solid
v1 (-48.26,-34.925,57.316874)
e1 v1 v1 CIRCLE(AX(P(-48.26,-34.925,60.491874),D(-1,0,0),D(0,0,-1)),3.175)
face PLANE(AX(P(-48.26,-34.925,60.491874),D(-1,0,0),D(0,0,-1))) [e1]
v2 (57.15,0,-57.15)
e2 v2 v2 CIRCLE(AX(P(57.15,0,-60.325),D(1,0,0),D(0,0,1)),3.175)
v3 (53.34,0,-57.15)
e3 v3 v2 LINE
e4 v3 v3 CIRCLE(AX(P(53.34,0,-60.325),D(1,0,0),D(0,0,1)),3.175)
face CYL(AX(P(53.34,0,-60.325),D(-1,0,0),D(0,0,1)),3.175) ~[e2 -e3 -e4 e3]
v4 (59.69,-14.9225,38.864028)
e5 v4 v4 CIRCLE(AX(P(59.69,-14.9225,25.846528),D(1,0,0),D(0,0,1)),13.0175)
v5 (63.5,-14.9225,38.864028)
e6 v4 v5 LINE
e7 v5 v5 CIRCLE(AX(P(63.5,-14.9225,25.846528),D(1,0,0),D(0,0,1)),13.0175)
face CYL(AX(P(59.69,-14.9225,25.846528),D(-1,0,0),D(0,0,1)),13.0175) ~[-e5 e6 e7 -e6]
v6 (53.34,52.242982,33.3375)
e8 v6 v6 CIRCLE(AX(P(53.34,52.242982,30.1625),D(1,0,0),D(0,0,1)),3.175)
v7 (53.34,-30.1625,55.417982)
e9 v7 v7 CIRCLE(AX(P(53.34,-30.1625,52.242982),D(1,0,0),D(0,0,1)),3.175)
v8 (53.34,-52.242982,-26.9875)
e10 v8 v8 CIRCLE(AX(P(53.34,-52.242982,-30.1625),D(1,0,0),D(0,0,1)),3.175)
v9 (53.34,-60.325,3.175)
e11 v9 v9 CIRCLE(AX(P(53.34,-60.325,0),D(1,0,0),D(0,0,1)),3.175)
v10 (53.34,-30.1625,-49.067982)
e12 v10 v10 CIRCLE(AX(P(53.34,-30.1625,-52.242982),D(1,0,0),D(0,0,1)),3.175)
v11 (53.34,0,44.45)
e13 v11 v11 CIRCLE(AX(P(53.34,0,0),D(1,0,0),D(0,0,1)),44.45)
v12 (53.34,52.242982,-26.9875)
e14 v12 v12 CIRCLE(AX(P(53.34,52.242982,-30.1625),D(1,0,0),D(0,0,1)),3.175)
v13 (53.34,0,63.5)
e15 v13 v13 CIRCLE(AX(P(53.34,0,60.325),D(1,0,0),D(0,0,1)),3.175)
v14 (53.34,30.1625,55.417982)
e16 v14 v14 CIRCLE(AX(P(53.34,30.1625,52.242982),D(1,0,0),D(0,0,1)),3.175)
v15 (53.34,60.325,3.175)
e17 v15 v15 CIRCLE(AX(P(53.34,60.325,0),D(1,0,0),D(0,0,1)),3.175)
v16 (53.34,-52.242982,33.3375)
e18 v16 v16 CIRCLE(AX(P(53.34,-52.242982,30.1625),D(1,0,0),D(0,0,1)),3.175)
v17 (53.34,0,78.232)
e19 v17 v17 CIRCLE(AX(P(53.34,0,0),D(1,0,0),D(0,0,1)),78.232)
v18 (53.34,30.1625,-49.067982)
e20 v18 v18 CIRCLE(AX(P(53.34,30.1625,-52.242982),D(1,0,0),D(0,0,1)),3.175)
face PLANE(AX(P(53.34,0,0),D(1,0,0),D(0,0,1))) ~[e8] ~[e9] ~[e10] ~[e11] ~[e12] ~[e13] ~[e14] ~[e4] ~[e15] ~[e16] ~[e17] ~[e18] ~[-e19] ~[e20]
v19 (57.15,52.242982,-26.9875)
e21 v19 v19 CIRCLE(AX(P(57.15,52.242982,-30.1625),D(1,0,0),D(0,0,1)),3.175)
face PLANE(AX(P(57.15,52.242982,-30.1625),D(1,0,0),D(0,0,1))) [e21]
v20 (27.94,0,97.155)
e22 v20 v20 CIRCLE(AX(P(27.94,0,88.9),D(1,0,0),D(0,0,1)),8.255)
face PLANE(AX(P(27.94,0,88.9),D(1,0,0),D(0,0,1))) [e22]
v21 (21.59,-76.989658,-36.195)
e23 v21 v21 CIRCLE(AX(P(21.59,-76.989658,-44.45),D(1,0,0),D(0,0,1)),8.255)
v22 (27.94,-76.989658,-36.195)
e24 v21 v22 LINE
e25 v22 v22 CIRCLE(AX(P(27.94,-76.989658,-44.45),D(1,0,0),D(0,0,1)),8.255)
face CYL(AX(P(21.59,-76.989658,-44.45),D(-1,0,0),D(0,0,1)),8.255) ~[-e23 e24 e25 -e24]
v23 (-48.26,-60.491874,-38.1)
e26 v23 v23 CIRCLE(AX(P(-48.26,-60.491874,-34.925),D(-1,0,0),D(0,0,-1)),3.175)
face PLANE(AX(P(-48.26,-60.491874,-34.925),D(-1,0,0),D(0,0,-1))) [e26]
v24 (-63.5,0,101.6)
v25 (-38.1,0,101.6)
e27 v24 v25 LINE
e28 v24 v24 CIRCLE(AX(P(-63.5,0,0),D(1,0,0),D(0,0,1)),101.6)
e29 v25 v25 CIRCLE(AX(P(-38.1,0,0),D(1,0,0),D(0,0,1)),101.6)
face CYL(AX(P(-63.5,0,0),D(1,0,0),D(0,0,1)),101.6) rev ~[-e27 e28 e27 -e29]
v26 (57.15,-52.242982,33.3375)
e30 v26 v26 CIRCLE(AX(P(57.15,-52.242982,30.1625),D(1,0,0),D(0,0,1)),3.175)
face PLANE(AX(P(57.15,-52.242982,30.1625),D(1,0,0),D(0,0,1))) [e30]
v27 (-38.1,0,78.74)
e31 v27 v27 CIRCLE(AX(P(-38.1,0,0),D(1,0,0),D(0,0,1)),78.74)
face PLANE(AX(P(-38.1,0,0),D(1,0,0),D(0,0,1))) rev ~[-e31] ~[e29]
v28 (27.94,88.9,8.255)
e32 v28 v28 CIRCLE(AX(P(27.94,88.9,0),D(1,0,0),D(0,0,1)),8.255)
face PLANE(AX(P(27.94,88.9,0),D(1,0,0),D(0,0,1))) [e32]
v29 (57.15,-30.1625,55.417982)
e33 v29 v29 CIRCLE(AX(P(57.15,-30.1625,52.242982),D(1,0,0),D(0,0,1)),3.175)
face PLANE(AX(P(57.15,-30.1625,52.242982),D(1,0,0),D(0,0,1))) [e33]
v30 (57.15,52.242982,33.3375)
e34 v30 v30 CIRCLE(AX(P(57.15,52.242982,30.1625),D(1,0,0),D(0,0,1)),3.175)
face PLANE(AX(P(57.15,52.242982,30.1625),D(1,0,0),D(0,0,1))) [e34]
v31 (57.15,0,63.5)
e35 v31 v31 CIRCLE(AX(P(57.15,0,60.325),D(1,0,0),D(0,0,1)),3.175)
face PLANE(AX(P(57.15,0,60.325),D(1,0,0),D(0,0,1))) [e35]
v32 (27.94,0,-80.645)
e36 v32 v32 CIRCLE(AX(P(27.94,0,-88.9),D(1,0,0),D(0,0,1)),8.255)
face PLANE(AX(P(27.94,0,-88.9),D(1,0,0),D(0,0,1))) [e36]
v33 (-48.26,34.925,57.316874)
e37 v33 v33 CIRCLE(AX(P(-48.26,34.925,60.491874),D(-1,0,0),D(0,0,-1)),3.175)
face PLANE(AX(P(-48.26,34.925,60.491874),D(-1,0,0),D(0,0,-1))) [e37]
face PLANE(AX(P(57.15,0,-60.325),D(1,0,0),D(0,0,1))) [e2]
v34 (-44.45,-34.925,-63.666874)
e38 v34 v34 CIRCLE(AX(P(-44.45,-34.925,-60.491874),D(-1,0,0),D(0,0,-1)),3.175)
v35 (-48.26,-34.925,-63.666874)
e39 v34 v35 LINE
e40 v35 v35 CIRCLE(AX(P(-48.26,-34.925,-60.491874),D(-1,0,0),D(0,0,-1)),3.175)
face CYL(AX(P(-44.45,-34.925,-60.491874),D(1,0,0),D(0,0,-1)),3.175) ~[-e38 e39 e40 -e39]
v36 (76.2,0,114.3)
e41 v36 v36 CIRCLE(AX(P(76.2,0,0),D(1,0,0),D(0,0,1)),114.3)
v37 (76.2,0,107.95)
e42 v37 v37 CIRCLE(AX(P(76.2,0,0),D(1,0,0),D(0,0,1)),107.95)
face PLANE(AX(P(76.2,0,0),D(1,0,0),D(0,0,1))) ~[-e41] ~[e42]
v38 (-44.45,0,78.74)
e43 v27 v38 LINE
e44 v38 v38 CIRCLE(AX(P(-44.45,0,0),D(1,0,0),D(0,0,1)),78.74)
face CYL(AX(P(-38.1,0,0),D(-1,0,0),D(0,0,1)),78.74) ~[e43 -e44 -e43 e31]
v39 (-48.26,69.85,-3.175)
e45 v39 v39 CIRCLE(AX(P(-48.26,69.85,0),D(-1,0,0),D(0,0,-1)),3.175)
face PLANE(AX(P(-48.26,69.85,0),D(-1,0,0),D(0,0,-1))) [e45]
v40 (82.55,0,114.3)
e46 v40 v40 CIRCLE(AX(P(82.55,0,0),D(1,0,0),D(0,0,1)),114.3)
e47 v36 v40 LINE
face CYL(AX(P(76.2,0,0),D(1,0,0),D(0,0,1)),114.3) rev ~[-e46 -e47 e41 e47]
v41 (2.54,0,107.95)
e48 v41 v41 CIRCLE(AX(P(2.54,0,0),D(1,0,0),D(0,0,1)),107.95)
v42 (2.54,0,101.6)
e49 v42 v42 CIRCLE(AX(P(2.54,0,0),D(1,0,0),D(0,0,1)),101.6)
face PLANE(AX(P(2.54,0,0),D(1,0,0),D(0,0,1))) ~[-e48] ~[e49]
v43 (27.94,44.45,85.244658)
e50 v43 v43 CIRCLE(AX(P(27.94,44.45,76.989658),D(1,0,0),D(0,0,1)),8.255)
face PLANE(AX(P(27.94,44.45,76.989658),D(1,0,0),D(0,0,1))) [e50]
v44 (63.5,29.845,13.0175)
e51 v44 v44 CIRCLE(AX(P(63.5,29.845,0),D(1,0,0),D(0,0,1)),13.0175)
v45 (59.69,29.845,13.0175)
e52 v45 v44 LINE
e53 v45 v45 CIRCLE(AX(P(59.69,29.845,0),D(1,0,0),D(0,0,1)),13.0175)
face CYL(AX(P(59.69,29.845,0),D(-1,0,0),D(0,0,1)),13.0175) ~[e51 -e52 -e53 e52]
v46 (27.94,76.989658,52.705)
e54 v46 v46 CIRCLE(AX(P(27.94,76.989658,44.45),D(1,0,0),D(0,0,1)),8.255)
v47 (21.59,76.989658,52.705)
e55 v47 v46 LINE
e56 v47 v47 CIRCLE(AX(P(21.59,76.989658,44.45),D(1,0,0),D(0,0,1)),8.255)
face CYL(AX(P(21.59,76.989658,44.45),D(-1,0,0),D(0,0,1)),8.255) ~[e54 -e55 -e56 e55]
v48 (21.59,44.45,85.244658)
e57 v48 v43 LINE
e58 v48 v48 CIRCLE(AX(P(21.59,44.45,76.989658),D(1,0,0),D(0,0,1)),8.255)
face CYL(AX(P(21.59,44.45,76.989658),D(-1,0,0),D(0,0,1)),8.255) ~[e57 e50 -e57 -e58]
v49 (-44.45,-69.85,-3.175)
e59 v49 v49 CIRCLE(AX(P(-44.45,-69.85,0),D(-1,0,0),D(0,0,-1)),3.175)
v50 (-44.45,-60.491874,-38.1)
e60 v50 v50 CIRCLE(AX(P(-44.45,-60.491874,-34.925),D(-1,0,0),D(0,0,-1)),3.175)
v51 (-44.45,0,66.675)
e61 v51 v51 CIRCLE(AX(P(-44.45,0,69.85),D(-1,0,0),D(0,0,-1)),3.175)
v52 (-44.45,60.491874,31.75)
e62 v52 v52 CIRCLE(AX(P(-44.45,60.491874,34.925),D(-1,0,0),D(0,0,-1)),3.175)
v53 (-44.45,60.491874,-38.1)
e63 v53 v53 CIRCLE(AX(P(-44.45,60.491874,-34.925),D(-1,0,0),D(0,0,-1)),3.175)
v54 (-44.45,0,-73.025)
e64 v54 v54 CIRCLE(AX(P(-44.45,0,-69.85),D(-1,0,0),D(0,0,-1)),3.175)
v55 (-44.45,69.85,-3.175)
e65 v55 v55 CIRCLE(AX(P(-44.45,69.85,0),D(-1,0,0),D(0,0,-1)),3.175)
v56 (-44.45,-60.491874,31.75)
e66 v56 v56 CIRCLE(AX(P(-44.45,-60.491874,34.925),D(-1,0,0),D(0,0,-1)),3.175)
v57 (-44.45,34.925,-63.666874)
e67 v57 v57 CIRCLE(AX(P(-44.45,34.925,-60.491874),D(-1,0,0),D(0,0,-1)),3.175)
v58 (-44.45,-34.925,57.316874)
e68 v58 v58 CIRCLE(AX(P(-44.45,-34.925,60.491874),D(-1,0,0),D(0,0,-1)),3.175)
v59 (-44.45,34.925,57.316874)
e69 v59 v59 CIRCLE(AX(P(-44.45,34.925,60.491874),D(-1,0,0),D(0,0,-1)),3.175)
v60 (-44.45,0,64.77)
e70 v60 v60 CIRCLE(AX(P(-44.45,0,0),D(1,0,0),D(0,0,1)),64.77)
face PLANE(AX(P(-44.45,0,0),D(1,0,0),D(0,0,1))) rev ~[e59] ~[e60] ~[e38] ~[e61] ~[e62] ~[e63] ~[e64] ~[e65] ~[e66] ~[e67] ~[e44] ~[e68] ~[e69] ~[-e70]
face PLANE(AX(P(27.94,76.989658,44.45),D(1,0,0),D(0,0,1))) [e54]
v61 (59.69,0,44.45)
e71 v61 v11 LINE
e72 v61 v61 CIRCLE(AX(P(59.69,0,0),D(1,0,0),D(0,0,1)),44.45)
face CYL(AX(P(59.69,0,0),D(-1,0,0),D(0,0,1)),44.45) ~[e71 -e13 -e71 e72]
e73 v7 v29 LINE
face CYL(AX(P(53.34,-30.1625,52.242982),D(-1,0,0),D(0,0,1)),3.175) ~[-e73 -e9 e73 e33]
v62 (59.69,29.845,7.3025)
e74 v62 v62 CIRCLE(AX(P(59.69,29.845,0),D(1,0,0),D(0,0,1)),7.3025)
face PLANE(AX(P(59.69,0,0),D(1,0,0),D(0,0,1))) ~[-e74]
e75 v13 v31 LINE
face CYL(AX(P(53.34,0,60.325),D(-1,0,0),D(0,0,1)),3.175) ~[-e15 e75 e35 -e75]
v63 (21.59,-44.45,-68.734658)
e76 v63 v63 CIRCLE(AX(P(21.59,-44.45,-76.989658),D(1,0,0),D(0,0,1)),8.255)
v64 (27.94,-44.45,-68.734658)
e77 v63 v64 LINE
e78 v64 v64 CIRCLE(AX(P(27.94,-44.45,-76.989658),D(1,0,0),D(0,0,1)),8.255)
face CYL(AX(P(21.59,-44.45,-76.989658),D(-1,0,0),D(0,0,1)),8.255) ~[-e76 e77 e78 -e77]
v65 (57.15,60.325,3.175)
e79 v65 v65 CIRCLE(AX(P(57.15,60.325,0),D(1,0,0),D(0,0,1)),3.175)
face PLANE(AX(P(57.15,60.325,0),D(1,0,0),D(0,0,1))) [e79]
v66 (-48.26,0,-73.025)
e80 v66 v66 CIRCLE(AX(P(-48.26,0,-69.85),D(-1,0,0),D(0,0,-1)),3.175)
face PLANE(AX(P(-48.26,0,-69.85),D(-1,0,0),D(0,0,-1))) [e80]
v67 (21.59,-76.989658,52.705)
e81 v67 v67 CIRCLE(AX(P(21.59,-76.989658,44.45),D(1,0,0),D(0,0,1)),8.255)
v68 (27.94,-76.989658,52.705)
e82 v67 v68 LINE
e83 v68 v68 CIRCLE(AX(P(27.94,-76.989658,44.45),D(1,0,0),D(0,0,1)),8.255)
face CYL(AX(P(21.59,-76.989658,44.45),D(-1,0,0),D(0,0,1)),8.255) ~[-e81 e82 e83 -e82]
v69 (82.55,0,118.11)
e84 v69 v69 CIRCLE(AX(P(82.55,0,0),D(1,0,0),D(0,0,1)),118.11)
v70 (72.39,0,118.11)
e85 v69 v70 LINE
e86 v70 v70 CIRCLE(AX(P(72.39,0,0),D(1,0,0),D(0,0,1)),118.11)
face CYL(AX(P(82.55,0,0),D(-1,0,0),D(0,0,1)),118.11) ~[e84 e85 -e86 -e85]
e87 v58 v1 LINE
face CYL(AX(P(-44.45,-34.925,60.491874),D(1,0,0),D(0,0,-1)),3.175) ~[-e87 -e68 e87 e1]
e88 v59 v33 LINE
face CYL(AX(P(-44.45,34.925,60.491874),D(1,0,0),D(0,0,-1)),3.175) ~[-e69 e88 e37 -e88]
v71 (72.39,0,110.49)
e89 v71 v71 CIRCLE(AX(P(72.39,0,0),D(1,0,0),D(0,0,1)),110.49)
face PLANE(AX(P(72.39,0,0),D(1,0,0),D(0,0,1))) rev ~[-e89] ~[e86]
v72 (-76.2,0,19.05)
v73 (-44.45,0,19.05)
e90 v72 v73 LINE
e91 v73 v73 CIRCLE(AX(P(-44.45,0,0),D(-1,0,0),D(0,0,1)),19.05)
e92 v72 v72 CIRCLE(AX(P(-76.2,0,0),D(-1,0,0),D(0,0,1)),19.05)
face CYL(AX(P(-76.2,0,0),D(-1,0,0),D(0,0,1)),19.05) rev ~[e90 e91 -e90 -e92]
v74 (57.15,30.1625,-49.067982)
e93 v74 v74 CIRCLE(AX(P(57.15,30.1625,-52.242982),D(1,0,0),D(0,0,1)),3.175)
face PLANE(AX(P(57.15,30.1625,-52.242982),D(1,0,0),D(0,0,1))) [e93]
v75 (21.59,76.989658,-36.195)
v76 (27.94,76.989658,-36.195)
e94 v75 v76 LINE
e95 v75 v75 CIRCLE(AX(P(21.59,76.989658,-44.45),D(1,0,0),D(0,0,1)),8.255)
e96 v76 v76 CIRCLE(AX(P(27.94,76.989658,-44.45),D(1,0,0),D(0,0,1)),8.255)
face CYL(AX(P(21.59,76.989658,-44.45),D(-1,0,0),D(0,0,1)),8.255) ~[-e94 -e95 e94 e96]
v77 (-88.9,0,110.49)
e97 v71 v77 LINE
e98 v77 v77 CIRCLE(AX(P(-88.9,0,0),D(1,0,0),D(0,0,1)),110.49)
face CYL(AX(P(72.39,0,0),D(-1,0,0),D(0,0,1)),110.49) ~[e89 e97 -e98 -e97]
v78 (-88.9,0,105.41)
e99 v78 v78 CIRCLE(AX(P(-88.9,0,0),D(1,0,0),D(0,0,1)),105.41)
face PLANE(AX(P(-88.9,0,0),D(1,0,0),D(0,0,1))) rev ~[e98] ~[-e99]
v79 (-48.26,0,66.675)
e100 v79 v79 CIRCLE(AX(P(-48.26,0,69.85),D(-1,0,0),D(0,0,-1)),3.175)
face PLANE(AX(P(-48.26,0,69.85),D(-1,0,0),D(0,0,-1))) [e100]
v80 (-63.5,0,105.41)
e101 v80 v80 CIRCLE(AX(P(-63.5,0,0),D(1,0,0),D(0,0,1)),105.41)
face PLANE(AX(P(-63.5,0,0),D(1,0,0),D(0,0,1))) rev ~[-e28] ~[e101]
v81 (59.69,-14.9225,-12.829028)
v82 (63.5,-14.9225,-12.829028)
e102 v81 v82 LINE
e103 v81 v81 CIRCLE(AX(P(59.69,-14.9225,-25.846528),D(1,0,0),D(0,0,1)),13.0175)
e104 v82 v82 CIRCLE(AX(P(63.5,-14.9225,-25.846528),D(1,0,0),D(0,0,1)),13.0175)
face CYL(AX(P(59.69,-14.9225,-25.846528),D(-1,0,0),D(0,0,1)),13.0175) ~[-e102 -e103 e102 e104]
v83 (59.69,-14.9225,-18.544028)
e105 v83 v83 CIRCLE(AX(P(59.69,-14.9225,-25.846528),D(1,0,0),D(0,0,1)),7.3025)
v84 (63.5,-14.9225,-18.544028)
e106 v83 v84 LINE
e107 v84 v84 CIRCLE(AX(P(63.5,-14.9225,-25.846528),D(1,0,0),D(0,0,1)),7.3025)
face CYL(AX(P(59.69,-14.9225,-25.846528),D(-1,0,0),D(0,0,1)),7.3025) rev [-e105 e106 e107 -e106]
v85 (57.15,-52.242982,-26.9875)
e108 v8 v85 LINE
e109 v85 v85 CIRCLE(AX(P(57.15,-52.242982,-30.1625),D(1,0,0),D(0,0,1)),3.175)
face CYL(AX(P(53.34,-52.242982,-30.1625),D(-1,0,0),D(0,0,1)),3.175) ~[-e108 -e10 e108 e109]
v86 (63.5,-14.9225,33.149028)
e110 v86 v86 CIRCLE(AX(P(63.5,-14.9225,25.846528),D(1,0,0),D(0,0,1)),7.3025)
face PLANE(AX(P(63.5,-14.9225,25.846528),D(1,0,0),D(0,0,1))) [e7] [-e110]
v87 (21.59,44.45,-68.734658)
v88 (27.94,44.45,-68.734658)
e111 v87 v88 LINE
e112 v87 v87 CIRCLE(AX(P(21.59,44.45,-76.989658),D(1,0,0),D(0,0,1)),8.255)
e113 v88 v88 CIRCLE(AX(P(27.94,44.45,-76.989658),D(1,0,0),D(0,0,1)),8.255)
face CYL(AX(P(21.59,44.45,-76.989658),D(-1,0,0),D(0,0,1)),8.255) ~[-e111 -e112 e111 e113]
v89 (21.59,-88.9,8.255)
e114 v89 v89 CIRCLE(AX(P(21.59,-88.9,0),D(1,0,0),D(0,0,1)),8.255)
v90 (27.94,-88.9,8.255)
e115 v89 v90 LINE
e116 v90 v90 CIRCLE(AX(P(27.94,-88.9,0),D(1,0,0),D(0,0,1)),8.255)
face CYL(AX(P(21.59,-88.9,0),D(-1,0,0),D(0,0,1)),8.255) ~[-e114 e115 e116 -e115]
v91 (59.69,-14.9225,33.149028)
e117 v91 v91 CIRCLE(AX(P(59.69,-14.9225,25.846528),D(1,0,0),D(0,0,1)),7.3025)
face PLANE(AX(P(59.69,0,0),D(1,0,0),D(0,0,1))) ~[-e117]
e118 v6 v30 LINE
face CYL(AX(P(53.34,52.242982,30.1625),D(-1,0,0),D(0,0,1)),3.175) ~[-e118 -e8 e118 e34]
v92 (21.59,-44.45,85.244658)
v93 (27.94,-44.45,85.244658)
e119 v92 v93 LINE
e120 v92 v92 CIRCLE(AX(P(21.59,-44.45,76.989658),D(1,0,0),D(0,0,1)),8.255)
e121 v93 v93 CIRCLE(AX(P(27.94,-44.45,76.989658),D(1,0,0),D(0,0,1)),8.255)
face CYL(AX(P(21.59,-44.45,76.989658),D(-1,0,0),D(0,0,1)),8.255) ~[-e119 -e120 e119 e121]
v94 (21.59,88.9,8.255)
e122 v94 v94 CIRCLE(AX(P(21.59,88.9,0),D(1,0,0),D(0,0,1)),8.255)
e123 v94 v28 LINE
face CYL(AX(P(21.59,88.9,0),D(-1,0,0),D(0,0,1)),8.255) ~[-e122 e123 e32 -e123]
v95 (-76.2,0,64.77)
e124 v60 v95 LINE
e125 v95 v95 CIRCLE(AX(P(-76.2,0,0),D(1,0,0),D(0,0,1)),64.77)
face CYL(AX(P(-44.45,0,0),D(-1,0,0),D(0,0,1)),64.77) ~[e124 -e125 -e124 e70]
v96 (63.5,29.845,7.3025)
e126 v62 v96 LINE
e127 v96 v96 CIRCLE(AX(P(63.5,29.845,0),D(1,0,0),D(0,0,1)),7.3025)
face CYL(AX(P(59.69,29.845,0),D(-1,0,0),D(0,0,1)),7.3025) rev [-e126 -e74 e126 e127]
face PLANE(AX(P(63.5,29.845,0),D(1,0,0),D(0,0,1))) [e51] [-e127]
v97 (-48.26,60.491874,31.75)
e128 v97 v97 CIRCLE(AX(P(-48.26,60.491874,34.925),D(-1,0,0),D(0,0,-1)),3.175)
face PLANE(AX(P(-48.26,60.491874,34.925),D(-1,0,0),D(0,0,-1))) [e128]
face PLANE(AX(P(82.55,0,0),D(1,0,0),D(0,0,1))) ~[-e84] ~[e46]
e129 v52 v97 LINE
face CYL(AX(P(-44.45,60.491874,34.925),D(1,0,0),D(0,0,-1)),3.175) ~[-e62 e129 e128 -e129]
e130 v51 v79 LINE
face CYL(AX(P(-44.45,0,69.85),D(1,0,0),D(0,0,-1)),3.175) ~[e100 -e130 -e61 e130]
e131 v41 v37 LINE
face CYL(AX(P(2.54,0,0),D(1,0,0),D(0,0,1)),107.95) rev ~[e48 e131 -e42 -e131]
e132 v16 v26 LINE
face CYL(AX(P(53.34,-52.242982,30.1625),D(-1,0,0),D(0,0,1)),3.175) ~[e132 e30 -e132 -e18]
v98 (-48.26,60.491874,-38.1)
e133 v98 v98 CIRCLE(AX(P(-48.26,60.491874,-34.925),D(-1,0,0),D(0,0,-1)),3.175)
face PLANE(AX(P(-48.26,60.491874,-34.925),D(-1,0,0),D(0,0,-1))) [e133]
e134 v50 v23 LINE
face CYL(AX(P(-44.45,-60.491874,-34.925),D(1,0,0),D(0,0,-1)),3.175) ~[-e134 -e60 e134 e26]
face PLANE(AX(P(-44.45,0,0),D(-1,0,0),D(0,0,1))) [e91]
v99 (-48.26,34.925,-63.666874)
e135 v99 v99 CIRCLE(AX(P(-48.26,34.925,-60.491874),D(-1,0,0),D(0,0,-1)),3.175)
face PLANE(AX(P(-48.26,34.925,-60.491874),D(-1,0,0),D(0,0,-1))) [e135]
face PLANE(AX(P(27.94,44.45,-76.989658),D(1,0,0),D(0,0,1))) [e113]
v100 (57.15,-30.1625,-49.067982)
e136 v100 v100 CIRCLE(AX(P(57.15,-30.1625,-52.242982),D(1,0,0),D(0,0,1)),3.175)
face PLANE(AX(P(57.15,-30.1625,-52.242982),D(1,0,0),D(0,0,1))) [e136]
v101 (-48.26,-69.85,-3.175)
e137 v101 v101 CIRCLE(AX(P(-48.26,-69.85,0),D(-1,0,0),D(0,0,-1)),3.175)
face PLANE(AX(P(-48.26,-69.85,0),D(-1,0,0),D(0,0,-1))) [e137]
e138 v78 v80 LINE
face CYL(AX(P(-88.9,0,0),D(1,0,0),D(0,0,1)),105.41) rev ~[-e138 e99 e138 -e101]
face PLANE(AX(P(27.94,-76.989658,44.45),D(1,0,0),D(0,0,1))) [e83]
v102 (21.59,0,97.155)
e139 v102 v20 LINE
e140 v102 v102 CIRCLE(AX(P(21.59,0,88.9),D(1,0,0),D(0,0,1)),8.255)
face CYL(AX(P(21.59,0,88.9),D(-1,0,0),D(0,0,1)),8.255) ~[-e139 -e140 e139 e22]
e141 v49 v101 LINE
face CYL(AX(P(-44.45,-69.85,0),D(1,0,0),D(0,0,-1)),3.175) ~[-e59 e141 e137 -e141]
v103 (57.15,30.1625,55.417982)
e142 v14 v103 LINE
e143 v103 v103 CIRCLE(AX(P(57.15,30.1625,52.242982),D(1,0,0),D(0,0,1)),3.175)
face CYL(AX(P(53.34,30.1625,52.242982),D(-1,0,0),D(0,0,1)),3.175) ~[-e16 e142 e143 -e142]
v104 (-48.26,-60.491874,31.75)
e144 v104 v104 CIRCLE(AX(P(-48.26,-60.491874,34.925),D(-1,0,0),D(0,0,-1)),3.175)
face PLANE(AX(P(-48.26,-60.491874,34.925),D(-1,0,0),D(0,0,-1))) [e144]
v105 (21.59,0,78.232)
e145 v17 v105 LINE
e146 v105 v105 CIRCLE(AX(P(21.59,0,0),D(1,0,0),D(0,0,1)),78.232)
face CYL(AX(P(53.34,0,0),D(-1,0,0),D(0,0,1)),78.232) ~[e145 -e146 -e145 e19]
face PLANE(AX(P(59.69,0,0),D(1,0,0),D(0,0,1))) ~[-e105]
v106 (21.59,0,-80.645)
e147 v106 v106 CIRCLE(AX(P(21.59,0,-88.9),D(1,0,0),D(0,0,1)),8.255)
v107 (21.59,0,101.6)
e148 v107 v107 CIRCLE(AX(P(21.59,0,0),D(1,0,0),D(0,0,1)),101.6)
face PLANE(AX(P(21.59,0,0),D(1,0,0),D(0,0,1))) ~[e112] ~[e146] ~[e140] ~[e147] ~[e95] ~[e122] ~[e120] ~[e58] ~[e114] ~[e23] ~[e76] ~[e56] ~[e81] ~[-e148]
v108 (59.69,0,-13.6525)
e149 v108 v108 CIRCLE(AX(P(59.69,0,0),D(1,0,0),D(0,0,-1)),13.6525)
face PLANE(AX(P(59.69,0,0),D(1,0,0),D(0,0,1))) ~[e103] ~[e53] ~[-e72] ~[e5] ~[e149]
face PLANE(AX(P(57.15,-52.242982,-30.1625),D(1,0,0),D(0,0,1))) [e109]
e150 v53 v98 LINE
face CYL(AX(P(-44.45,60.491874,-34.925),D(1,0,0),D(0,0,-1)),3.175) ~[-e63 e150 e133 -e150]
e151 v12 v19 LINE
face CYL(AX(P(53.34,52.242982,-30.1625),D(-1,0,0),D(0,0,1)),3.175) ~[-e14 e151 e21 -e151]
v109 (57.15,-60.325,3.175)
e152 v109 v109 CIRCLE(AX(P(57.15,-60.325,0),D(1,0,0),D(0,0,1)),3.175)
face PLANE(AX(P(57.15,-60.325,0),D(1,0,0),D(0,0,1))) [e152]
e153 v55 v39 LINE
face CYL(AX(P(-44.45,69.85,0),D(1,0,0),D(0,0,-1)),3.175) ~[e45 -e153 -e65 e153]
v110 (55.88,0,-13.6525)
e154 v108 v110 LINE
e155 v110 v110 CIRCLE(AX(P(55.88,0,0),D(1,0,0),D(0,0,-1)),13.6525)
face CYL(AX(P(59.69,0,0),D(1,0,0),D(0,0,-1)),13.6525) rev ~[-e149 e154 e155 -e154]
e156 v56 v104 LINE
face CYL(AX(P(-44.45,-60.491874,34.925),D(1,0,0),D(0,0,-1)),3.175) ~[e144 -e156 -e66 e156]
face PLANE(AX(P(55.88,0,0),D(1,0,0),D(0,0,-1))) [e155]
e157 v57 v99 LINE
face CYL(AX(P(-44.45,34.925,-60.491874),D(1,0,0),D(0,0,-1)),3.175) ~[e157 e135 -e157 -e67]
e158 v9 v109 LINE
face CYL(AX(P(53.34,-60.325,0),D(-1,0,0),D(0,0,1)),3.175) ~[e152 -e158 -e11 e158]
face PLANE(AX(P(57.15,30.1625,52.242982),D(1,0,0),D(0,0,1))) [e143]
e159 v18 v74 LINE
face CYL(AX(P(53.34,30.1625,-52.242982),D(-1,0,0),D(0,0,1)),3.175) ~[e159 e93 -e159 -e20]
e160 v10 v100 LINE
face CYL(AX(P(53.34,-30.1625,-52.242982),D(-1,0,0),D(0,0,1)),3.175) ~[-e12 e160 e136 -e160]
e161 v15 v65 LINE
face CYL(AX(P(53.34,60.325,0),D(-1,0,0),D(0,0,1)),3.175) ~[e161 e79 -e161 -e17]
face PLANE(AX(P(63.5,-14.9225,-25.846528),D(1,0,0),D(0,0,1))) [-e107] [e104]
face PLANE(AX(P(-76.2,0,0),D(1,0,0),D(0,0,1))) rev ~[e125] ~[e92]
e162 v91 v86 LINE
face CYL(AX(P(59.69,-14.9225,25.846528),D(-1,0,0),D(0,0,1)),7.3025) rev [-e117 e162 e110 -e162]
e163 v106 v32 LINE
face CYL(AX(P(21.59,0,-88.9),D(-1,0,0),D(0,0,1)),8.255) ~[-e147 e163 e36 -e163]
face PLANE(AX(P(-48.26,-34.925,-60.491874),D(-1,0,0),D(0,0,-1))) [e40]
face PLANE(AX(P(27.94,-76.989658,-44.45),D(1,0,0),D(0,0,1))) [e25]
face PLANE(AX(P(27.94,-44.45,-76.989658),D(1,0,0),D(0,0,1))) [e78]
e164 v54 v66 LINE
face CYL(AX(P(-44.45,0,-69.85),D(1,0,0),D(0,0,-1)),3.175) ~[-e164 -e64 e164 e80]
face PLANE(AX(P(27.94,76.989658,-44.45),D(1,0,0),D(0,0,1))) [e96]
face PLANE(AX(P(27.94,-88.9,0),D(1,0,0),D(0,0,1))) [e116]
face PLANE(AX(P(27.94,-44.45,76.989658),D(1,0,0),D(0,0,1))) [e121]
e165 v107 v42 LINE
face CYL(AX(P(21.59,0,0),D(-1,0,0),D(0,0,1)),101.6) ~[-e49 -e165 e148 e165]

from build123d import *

# Parameters (mm, degrees)
SKETCH2_R           = 8.255
BOSS_EXTRUDE1_DEPTH = 6.35
SKETCH3_R           = 3.175
BOSS_EXTRUDE2_DEPTH = 3.81
SKETCH5_R           = 13.0175
SKETCH5_R_2         = 7.3025
BOSS_EXTRUDE5_DEPTH = 3.81
SKETCH4_R           = 13.6525
CUT_EXTRUDE1_DEPTH  = 3.81
SKETCH6_R           = 3.175
BOSS_EXTRUDE6_DEPTH = 3.81
SKETCH7_R           = 19.05
CUT_EXTRUDE2_DEPTH  = 31.75


with BuildPart() as part:
    # Sketch1 → Revolve1 (revolve)
    with BuildSketch(Plane.XY, mode=Mode.PRIVATE) as revolve1_sk:
        Polygon((0, 0), (59.69, 0), (59.69, 44.45), (53.34, 44.45), (53.34, 78.232), (21.59, 78.232), (21.59, 101.6), (2.54, 101.6), (2.54, 107.95), (76.2, 107.95), (76.2, 114.3), (82.55, 114.3), (82.55, 118.11), (72.39, 118.11), (72.39, 110.49), (-88.9, 110.49), (-88.9, 105.41), (-63.5, 105.41), (-63.5, 101.6), (-38.1, 101.6), (-38.1, 78.74), (-44.45, 78.74), (-44.45, 64.77), (-76.2, 64.77), (-76.2, 0), align=None)
    revolve(revolve1_sk.sketch.rotate(Axis((0, 0, 0), (1, 0, 0)), 90), axis=Axis((0, 0, 0), (1, 0, 0)))

    # Sketch2 → Boss-Extrude1 (add)
    with BuildSketch(Plane(origin=(21.59, 0, 0), x_dir=(0, 0, -1), z_dir=(1, 0, 0))):
        with Locations(Location((0, 88.9, 0), (0, 0, 180))):
            Circle(SKETCH2_R)
        with Locations(Location((44.45, 76.989658396, 0), (0, 0, 180))):
            Circle(SKETCH2_R)
        with Locations(Location((76.989658396, 44.45, 0), (0, 0, 180))):
            Circle(SKETCH2_R)
        with Locations(Location((88.9, 0, 0), (0, 0, 180))):
            Circle(SKETCH2_R)
        with Locations(Location((76.989658396, -44.45, 0), (0, 0, 180))):
            Circle(SKETCH2_R)
        with Locations(Location((44.45, -76.989658396, 0), (0, 0, 180))):
            Circle(SKETCH2_R)
        with Locations(Location((0, -88.9, 0), (0, 0, 180))):
            Circle(SKETCH2_R)
        with Locations(Location((-44.45, -76.989658396, 0), (0, 0, 180))):
            Circle(SKETCH2_R)
        with Locations(Location((-76.989658396, -44.45, 0), (0, 0, 180))):
            Circle(SKETCH2_R)
        with Locations(Location((-88.9, 0, 0), (0, 0, 180))):
            Circle(SKETCH2_R)
        with Locations(Location((-76.989658396, 44.45, 0), (0, 0, 180))):
            Circle(SKETCH2_R)
        with Locations(Location((-44.45, 76.989658396, 0), (0, 0, 180))):
            Circle(SKETCH2_R)
    extrude(amount=BOSS_EXTRUDE1_DEPTH)

    # Sketch3 → Boss-Extrude2 (add)
    with BuildSketch(Plane(origin=(53.34, 0, 0), x_dir=(0, 0, -1), z_dir=(1, 0, 0))):
        with Locations(Location((0, 60.325, 0), (0, 0, 180))):
            Circle(SKETCH3_R)
        with Locations(Location((30.1625, 52.242982483, 0), (0, 0, 180))):
            Circle(SKETCH3_R)
        with Locations(Location((52.242982483, 30.1625, 0), (0, 0, 180))):
            Circle(SKETCH3_R)
        with Locations(Location((60.325, 0, 0), (0, 0, 180))):
            Circle(SKETCH3_R)
        with Locations(Location((52.242982483, -30.1625, 0), (0, 0, 180))):
            Circle(SKETCH3_R)
        with Locations(Location((30.1625, -52.242982483, 0), (0, 0, 180))):
            Circle(SKETCH3_R)
        with Locations(Location((0, -60.325, 0), (0, 0, 180))):
            Circle(SKETCH3_R)
        with Locations(Location((-30.1625, -52.242982483, 0), (0, 0, 180))):
            Circle(SKETCH3_R)
        with Locations(Location((-52.242982483, -30.1625, 0), (0, 0, 180))):
            Circle(SKETCH3_R)
        with Locations(Location((-60.325, 0, 0), (0, 0, 180))):
            Circle(SKETCH3_R)
        with Locations(Location((-52.242982483, 30.1625, 0), (0, 0, 180))):
            Circle(SKETCH3_R)
        with Locations(Location((-30.1625, 52.242982483, 0), (0, 0, 180))):
            Circle(SKETCH3_R)
    extrude(amount=BOSS_EXTRUDE2_DEPTH)

    # Sketch5 → Boss-Extrude5 (add)
    # profile 1 of 3: a face of its own
    with BuildSketch(Plane(origin=(59.69, 0, 0), x_dir=(0, 0, -1), z_dir=(1, 0, 0))):
        with Locations(Location((0, 29.845, 0), (0, 0, 180))):
            Circle(SKETCH5_R)
        with Locations(Location((0, 29.845, 0), (0, 0, 180))):
            Circle(SKETCH5_R_2, mode=Mode.SUBTRACT)
    # profile 2 of 3: a face of its own
    with BuildSketch(Plane(origin=(59.69, 0, 0), x_dir=(0, 0, -1), z_dir=(1, 0, 0))):
        with Locations(Location((25.846528176, -14.9225, 0), (0, 0, 180))):
            Circle(SKETCH5_R)
        with Locations(Location((25.846528176, -14.9225, 0), (0, 0, 180))):
            Circle(SKETCH5_R_2, mode=Mode.SUBTRACT)
    # profile 3 of 3: a face of its own
    with BuildSketch(Plane(origin=(59.69, 0, 0), x_dir=(0, 0, -1), z_dir=(1, 0, 0))):
        with Locations(Location((-25.846528176, -14.9225, 0), (0, 0, 180))):
            Circle(SKETCH5_R)
        with Locations(Location((-25.846528176, -14.9225, 0), (0, 0, 180))):
            Circle(SKETCH5_R_2, mode=Mode.SUBTRACT)
    extrude(amount=BOSS_EXTRUDE5_DEPTH)

    # Sketch4 → Cut-Extrude1 (cut)
    with BuildSketch(Plane(origin=(59.69, 0, 0), x_dir=(0, 0, -1), z_dir=(1, 0, 0))):
        Circle(SKETCH4_R)
    extrude(amount=-CUT_EXTRUDE1_DEPTH, mode=Mode.SUBTRACT)

    # Sketch6 → Boss-Extrude6 (add)
    with BuildSketch(Plane.ZY.offset(44.45)):
        with Locations(Location((0, 69.85, 0), (0, 0, 180))):
            Circle(SKETCH6_R)
        with Locations(Location((34.925, 60.491874454, 0), (0, 0, 180))):
            Circle(SKETCH6_R)
        with Locations(Location((60.491874454, 34.925, 0), (0, 0, 180))):
            Circle(SKETCH6_R)
        with Locations(Location((69.85, 0, 0), (0, 0, 180))):
            Circle(SKETCH6_R)
        with Locations(Location((60.491874454, -34.925, 0), (0, 0, 180))):
            Circle(SKETCH6_R)
        with Locations(Location((34.925, -60.491874454, 0), (0, 0, 180))):
            Circle(SKETCH6_R)
        with Locations(Location((0, -69.85, 0), (0, 0, 180))):
            Circle(SKETCH6_R)
        with Locations(Location((-34.925, -60.491874454, 0), (0, 0, 180))):
            Circle(SKETCH6_R)
        with Locations(Location((-60.491874454, -34.925, 0), (0, 0, 180))):
            Circle(SKETCH6_R)
        with Locations(Location((-69.85, 0, 0), (0, 0, 180))):
            Circle(SKETCH6_R)
        with Locations(Location((-60.491874454, 34.925, 0), (0, 0, 180))):
            Circle(SKETCH6_R)
        with Locations(Location((-34.925, 60.491874454, 0), (0, 0, 180))):
            Circle(SKETCH6_R)
    extrude(amount=BOSS_EXTRUDE6_DEPTH)

    # Sketch7 → Cut-Extrude2 (cut)
    with BuildSketch(Plane.ZY.offset(76.2)):
        Circle(SKETCH7_R)
    extrude(amount=-CUT_EXTRUDE2_DEPTH, mode=Mode.SUBTRACT)


solid = part.part
